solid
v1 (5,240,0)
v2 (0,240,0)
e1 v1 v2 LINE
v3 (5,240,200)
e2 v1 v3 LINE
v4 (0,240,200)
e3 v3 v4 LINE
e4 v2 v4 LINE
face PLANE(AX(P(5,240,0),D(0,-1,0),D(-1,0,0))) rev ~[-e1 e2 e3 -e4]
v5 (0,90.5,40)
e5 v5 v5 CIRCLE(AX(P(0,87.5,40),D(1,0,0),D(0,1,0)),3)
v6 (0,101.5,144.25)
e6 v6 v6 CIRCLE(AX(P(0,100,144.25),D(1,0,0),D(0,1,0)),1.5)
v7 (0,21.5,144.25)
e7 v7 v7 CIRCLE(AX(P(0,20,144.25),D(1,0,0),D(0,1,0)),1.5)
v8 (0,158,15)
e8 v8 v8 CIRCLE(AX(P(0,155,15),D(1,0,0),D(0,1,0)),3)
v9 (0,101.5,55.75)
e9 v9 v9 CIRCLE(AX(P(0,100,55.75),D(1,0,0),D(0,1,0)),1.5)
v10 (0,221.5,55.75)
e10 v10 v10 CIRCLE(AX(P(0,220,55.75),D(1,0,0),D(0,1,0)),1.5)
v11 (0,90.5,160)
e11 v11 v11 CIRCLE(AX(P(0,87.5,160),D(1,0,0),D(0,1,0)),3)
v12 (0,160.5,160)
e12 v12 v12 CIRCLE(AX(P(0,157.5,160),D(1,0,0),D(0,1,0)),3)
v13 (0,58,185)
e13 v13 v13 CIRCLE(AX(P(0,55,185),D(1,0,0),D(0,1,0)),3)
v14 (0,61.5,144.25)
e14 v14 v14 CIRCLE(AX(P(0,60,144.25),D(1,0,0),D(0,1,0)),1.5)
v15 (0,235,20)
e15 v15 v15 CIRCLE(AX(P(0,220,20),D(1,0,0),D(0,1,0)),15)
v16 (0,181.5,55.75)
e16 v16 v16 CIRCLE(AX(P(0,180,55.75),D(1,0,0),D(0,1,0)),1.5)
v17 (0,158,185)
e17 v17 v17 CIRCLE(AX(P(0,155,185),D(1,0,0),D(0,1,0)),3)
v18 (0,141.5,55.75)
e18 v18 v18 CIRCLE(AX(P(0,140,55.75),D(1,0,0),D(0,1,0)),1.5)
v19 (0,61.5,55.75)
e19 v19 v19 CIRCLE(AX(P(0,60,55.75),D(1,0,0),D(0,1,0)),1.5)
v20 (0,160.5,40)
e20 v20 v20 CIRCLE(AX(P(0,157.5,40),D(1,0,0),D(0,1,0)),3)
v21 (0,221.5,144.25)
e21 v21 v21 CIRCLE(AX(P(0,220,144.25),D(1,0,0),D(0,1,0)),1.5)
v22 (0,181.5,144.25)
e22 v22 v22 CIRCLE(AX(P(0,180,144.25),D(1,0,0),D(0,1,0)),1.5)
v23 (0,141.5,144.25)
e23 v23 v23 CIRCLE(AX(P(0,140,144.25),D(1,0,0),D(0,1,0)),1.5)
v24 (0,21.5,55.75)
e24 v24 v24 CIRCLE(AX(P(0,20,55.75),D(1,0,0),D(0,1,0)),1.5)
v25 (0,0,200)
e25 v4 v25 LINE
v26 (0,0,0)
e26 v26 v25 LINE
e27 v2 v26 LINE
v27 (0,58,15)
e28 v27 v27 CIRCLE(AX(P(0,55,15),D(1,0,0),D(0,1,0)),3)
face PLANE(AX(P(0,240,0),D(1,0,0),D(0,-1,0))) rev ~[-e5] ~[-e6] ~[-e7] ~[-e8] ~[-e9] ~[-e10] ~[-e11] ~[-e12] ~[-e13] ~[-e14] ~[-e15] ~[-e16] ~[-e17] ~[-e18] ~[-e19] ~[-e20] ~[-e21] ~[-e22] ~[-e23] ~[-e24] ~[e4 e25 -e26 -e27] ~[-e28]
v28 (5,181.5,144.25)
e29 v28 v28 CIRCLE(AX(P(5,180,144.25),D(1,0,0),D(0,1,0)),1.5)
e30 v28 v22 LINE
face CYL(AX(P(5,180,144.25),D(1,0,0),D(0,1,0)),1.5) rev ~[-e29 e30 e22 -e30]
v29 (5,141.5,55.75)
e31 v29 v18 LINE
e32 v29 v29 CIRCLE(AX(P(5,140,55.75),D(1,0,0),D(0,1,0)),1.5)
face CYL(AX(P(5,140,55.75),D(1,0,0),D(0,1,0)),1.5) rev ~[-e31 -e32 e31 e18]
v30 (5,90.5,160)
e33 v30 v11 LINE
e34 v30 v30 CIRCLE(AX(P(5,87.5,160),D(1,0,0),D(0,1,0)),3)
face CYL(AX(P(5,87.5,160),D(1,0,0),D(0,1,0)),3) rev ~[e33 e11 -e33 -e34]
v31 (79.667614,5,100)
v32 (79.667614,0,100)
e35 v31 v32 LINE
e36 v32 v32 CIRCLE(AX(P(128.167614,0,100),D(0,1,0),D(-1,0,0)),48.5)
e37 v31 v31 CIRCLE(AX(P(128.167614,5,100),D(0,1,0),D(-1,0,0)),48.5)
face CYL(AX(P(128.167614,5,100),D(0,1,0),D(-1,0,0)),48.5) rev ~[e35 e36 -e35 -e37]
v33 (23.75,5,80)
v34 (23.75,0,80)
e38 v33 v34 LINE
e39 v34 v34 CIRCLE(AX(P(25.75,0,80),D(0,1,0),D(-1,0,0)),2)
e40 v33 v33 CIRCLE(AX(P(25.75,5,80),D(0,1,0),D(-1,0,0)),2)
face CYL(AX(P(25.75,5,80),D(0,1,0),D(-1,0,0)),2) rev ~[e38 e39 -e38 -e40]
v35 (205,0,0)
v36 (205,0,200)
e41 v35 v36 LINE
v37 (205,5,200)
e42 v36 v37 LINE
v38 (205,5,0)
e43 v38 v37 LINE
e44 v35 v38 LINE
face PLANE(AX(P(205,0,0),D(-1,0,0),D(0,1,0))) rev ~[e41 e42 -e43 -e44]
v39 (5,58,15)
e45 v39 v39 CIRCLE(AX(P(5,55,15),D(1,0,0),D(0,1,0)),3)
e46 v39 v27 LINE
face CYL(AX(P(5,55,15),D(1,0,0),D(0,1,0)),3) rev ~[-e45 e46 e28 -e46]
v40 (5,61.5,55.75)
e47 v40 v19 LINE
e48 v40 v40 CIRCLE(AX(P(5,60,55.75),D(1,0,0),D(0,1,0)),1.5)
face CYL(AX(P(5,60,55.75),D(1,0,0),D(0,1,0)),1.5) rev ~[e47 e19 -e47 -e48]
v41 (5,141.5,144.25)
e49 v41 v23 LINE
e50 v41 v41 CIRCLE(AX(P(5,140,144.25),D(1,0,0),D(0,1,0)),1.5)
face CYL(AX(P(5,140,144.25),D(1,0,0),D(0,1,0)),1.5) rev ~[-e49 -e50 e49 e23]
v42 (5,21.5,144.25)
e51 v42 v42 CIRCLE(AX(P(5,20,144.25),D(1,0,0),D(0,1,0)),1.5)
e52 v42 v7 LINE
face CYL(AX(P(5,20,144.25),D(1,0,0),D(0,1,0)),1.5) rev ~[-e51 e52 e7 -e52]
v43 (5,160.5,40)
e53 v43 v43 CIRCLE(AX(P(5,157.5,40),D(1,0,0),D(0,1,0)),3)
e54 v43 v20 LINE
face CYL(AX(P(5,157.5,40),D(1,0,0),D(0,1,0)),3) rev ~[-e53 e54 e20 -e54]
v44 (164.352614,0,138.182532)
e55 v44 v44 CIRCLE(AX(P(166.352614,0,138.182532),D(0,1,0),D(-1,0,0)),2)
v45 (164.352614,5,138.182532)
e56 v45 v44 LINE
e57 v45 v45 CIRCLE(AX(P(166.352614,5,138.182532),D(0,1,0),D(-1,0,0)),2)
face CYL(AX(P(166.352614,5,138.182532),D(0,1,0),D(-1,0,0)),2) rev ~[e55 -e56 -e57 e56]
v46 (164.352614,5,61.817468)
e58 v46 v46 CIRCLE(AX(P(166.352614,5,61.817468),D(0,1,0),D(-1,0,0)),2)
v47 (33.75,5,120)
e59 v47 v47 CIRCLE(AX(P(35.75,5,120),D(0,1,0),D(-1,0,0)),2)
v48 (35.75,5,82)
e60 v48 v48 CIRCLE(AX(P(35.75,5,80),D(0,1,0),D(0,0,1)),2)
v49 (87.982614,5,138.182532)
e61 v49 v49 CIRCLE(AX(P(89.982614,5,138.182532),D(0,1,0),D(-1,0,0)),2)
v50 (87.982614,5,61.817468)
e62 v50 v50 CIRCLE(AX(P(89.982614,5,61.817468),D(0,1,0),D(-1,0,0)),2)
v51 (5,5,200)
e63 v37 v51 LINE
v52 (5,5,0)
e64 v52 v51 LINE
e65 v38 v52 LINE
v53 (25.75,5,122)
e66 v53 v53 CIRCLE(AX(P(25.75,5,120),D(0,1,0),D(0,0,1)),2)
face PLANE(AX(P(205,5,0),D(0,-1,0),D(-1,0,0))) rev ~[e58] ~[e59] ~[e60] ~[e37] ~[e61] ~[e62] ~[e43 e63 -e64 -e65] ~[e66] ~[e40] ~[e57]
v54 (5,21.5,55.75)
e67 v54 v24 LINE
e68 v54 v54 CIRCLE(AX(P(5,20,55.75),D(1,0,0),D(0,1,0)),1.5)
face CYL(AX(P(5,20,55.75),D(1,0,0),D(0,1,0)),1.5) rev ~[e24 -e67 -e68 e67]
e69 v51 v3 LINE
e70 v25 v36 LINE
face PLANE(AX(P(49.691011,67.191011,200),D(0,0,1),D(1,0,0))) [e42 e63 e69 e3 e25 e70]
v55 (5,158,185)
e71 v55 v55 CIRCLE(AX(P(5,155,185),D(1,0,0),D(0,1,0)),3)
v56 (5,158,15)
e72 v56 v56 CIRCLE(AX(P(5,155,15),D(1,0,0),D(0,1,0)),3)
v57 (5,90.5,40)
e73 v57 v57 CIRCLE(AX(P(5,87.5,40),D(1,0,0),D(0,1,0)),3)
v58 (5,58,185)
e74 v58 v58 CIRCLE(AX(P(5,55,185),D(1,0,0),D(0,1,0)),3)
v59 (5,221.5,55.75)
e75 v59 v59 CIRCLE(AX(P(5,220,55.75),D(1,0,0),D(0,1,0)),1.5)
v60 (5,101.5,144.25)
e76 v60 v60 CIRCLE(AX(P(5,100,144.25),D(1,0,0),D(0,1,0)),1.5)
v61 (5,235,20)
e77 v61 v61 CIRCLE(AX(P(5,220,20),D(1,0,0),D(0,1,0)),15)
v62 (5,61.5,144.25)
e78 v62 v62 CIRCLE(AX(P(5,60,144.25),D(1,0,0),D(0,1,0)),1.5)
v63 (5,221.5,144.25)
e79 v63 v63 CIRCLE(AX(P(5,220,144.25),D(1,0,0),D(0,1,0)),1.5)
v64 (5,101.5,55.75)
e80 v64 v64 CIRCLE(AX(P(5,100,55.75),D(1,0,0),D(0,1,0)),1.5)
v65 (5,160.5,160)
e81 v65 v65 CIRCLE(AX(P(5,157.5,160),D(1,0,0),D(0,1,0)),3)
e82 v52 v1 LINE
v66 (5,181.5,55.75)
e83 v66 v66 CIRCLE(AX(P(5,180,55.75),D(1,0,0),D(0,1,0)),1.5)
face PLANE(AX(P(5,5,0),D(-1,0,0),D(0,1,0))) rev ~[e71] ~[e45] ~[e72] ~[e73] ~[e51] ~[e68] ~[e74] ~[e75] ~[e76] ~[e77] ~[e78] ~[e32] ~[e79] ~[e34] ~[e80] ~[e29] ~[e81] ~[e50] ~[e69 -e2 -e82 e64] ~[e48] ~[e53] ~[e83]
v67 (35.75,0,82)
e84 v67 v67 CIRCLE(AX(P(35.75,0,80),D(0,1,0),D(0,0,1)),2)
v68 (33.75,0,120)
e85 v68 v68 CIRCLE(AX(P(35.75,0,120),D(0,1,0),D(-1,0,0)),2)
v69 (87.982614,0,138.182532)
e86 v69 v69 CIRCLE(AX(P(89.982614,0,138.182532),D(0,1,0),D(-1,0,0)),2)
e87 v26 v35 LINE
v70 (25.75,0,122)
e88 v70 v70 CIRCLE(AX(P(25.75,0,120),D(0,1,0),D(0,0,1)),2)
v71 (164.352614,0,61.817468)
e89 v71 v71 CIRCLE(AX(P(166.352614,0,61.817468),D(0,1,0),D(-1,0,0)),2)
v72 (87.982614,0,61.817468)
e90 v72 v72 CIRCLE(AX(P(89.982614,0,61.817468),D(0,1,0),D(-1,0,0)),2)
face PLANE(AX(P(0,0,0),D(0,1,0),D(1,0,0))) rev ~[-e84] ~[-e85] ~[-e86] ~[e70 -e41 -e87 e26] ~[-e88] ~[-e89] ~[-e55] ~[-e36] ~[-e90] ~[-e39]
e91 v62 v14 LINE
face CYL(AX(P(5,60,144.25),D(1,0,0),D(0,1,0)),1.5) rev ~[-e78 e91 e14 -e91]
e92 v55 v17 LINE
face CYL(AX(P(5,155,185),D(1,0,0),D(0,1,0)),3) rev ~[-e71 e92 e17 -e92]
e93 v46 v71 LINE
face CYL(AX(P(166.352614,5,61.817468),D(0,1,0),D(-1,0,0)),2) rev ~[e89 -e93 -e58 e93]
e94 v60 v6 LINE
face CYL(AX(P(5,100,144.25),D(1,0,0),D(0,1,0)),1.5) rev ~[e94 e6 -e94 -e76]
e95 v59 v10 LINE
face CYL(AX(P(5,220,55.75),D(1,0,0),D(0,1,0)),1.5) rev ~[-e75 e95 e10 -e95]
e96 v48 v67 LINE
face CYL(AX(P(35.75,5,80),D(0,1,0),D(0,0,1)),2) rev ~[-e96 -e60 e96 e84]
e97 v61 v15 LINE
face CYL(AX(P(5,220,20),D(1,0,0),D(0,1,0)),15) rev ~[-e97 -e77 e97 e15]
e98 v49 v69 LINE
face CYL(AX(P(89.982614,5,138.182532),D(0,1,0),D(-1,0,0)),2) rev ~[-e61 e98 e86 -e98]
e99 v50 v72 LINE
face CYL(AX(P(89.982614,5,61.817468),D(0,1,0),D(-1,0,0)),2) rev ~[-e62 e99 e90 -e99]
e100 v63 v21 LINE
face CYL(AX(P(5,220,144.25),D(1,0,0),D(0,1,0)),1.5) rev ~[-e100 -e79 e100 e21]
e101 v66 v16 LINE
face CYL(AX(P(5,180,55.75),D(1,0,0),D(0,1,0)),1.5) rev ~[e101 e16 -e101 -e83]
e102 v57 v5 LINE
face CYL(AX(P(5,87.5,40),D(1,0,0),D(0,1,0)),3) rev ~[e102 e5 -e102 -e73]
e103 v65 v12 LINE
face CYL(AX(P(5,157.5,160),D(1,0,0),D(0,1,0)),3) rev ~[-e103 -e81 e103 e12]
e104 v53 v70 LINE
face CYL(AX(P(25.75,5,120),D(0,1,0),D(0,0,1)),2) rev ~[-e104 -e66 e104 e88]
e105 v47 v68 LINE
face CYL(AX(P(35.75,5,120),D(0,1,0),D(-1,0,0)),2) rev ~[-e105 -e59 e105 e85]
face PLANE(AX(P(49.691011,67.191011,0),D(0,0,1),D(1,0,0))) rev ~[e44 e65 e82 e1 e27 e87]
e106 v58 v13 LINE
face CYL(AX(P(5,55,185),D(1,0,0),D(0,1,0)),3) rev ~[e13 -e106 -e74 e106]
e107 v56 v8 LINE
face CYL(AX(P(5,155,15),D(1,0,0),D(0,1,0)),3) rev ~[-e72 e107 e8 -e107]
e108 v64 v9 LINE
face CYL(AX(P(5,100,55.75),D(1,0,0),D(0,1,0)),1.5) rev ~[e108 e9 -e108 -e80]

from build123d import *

# Parameters (mm, degrees)
BOSS_EXTRUDE1_DEPTH = 200
CUT_EXTRUDE1_REACH  = 372.473
SKETCH2_R           = 48.5
SKETCH2_R_2         = 2
CUT_EXTRUDE2_REACH  = 372.473
SKETCH3_R           = 2
SKETCH4_R           = 15
CUT_EXTRUDE3_DEPTH  = 10
CUT_EXTRUDE4_REACH  = 372.945
SKETCH5_R           = 3
CUT_EXTRUDE5_REACH  = 372.945
SKETCH6_R           = 1.5
CUT_EXTRUDE6_REACH  = 372.945
SKETCH8_R           = 3


with BuildPart() as part:
    # Sketch1 → Boss-Extrude1 (new body)
    with BuildSketch(Plane.XY):
        Polygon((0, 240), (0, 0), (205, 0), (205, 5), (5, 5), (5, 240), align=None)
    extrude(amount=BOSS_EXTRUDE1_DEPTH)

    # Sketch2 → Cut-Extrude1 (cut, up to next)
    with BuildSketch(Plane(origin=(0, 5, 0), x_dir=(1, 0, 0), z_dir=(0, 1, 0)), mode=Mode.PRIVATE) as cut_extrude1_sk1:
        with Locations(Location((128.16761425, -100, 0), (0, 0, 180))):
            Circle(SKETCH2_R)
    cut_extrude1_tool1 = extrude(cut_extrude1_sk1.sketch, amount=-CUT_EXTRUDE1_REACH, mode=Mode.PRIVATE) & part.part
    # Sketch2 → Cut-Extrude1 (cut, up to next)
    with BuildSketch(Plane(origin=(0, 5, 0), x_dir=(1, 0, 0), z_dir=(0, 1, 0)), mode=Mode.PRIVATE) as cut_extrude1_sk2:
        with Locations(Location((89.98261425, -61.817467672, 0), (0, 0, 180))):
            Circle(SKETCH2_R_2)
    cut_extrude1_tool2 = extrude(cut_extrude1_sk2.sketch, amount=-CUT_EXTRUDE1_REACH, mode=Mode.PRIVATE) & part.part
    # Sketch2 → Cut-Extrude1 (cut, up to next)
    with BuildSketch(Plane(origin=(0, 5, 0), x_dir=(1, 0, 0), z_dir=(0, 1, 0)), mode=Mode.PRIVATE) as cut_extrude1_sk3:
        with Locations(Location((166.35261425, -61.817467672, 0), (0, 0, 180))):
            Circle(SKETCH2_R_2)
    cut_extrude1_tool3 = extrude(cut_extrude1_sk3.sketch, amount=-CUT_EXTRUDE1_REACH, mode=Mode.PRIVATE) & part.part
    # Sketch2 → Cut-Extrude1 (cut, up to next)
    with BuildSketch(Plane(origin=(0, 5, 0), x_dir=(1, 0, 0), z_dir=(0, 1, 0)), mode=Mode.PRIVATE) as cut_extrude1_sk4:
        with Locations(Location((89.98261425, -138.182532328, 0), (0, 0, 180))):
            Circle(SKETCH2_R_2)
    cut_extrude1_tool4 = extrude(cut_extrude1_sk4.sketch, amount=-CUT_EXTRUDE1_REACH, mode=Mode.PRIVATE) & part.part
    # Sketch2 → Cut-Extrude1 (cut, up to next)
    with BuildSketch(Plane(origin=(0, 5, 0), x_dir=(1, 0, 0), z_dir=(0, 1, 0)), mode=Mode.PRIVATE) as cut_extrude1_sk5:
        with Locations(Location((166.35261425, -138.182532328, 0), (0, 0, 180))):
            Circle(SKETCH2_R_2)
    cut_extrude1_tool5 = extrude(cut_extrude1_sk5.sketch, amount=-CUT_EXTRUDE1_REACH, mode=Mode.PRIVATE) & part.part
    add(cut_extrude1_tool1.solids().sort_by_distance((128.167614, 5, 100))[0], mode=Mode.SUBTRACT)
    add(cut_extrude1_tool2.solids().sort_by_distance((89.982614, 5, 61.817468))[0], mode=Mode.SUBTRACT)
    add(cut_extrude1_tool3.solids().sort_by_distance((166.352614, 5, 61.817468))[0], mode=Mode.SUBTRACT)
    add(cut_extrude1_tool4.solids().sort_by_distance((89.982614, 5, 138.182532))[0], mode=Mode.SUBTRACT)
    add(cut_extrude1_tool5.solids().sort_by_distance((166.352614, 5, 138.182532))[0], mode=Mode.SUBTRACT)

    # Sketch3 → Cut-Extrude2 (cut, up to next)
    with BuildSketch(Plane(origin=(0, 5, 0), x_dir=(1, 0, 0), z_dir=(0, 1, 0)), mode=Mode.PRIVATE) as cut_extrude2_sk1:
        with Locations(Location((25.75, -80, 0), (0, 0, 180))):
            Circle(SKETCH3_R)
    cut_extrude2_tool1 = extrude(cut_extrude2_sk1.sketch, amount=-CUT_EXTRUDE2_REACH, mode=Mode.PRIVATE) & part.part
    # Sketch3 → Cut-Extrude2 (cut, up to next)
    with BuildSketch(Plane(origin=(0, 5, 0), x_dir=(1, 0, 0), z_dir=(0, 1, 0)), mode=Mode.PRIVATE) as cut_extrude2_sk2:
        with Locations(Location((25.75, -120, 0), (0, 0, 270))):
            Circle(SKETCH3_R)
    cut_extrude2_tool2 = extrude(cut_extrude2_sk2.sketch, amount=-CUT_EXTRUDE2_REACH, mode=Mode.PRIVATE) & part.part
    # Sketch3 → Cut-Extrude2 (cut, up to next)
    with BuildSketch(Plane(origin=(0, 5, 0), x_dir=(1, 0, 0), z_dir=(0, 1, 0)), mode=Mode.PRIVATE) as cut_extrude2_sk3:
        with Locations(Location((35.75, -120, 0), (0, 0, 180))):
            Circle(SKETCH3_R)
    cut_extrude2_tool3 = extrude(cut_extrude2_sk3.sketch, amount=-CUT_EXTRUDE2_REACH, mode=Mode.PRIVATE) & part.part
    # Sketch3 → Cut-Extrude2 (cut, up to next)
    with BuildSketch(Plane(origin=(0, 5, 0), x_dir=(1, 0, 0), z_dir=(0, 1, 0)), mode=Mode.PRIVATE) as cut_extrude2_sk4:
        with Locations(Location((35.75, -80, 0), (0, 0, 270))):
            Circle(SKETCH3_R)
    cut_extrude2_tool4 = extrude(cut_extrude2_sk4.sketch, amount=-CUT_EXTRUDE2_REACH, mode=Mode.PRIVATE) & part.part
    add(cut_extrude2_tool1.solids().sort_by_distance((25.75, 5, 80))[0], mode=Mode.SUBTRACT)
    add(cut_extrude2_tool2.solids().sort_by_distance((25.75, 5, 120))[0], mode=Mode.SUBTRACT)
    add(cut_extrude2_tool3.solids().sort_by_distance((35.75, 5, 120))[0], mode=Mode.SUBTRACT)
    add(cut_extrude2_tool4.solids().sort_by_distance((35.75, 5, 80))[0], mode=Mode.SUBTRACT)

    # Sketch4 → Cut-Extrude3 (cut)
    with BuildSketch(Plane(origin=(5, 0, 0), x_dir=(0, 0, -1), z_dir=(1, 0, 0))):
        with Locations(Location((-20, 220, 0), (0, 0, 90))):
            Circle(SKETCH4_R)
    extrude(amount=-CUT_EXTRUDE3_DEPTH, mode=Mode.SUBTRACT)

    # Sketch5 → Cut-Extrude4 (cut, up to next)
    with BuildSketch(Plane(origin=(5, 0, 0), x_dir=(0, 0, -1), z_dir=(1, 0, 0)), mode=Mode.PRIVATE) as cut_extrude4_sk1:
        with Locations(Location((-185, 55, 0), (0, 0, 90))):
            Circle(SKETCH5_R)
    cut_extrude4_tool1 = extrude(cut_extrude4_sk1.sketch, amount=-CUT_EXTRUDE4_REACH, mode=Mode.PRIVATE) & part.part
    # Sketch5 → Cut-Extrude4 (cut, up to next)
    with BuildSketch(Plane(origin=(5, 0, 0), x_dir=(0, 0, -1), z_dir=(1, 0, 0)), mode=Mode.PRIVATE) as cut_extrude4_sk2:
        with Locations(Location((-185, 155, 0), (0, 0, 90))):
            Circle(SKETCH5_R)
    cut_extrude4_tool2 = extrude(cut_extrude4_sk2.sketch, amount=-CUT_EXTRUDE4_REACH, mode=Mode.PRIVATE) & part.part
    # Sketch5 → Cut-Extrude4 (cut, up to next)
    with BuildSketch(Plane(origin=(5, 0, 0), x_dir=(0, 0, -1), z_dir=(1, 0, 0)), mode=Mode.PRIVATE) as cut_extrude4_sk3:
        with Locations(Location((-15, 55, 0), (0, 0, 90))):
            Circle(SKETCH5_R)
    cut_extrude4_tool3 = extrude(cut_extrude4_sk3.sketch, amount=-CUT_EXTRUDE4_REACH, mode=Mode.PRIVATE) & part.part
    # Sketch5 → Cut-Extrude4 (cut, up to next)
    with BuildSketch(Plane(origin=(5, 0, 0), x_dir=(0, 0, -1), z_dir=(1, 0, 0)), mode=Mode.PRIVATE) as cut_extrude4_sk4:
        with Locations(Location((-15, 155, 0), (0, 0, 90))):
            Circle(SKETCH5_R)
    cut_extrude4_tool4 = extrude(cut_extrude4_sk4.sketch, amount=-CUT_EXTRUDE4_REACH, mode=Mode.PRIVATE) & part.part
    add(cut_extrude4_tool1.solids().sort_by_distance((5, 55, 185))[0], mode=Mode.SUBTRACT)
    add(cut_extrude4_tool2.solids().sort_by_distance((5, 155, 185))[0], mode=Mode.SUBTRACT)
    add(cut_extrude4_tool3.solids().sort_by_distance((5, 55, 15))[0], mode=Mode.SUBTRACT)
    add(cut_extrude4_tool4.solids().sort_by_distance((5, 155, 15))[0], mode=Mode.SUBTRACT)

    # Sketch6 → Cut-Extrude5 (cut, up to next)
    with BuildSketch(Plane(origin=(5, 0, 0), x_dir=(0, 0, -1), z_dir=(1, 0, 0)), mode=Mode.PRIVATE) as cut_extrude5_sk1:
        with Locations(Location((-144.25, 220, 0), (0, 0, 90))):
            Circle(SKETCH6_R)
    cut_extrude5_tool1 = extrude(cut_extrude5_sk1.sketch, amount=-CUT_EXTRUDE5_REACH, mode=Mode.PRIVATE) & part.part
    # Sketch6 → Cut-Extrude5 (cut, up to next)
    with BuildSketch(Plane(origin=(5, 0, 0), x_dir=(0, 0, -1), z_dir=(1, 0, 0)), mode=Mode.PRIVATE) as cut_extrude5_sk2:
        with Locations(Location((-55.75, 220, 0), (0, 0, 90))):
            Circle(SKETCH6_R)
    cut_extrude5_tool2 = extrude(cut_extrude5_sk2.sketch, amount=-CUT_EXTRUDE5_REACH, mode=Mode.PRIVATE) & part.part
    # Sketch6 → Cut-Extrude5 (cut, up to next)
    with BuildSketch(Plane(origin=(5, 0, 0), x_dir=(0, 0, -1), z_dir=(1, 0, 0)), mode=Mode.PRIVATE) as cut_extrude5_sk3:
        with Locations(Location((-144.25, 180, 0), (0, 0, 90))):
            Circle(SKETCH6_R)
    cut_extrude5_tool3 = extrude(cut_extrude5_sk3.sketch, amount=-CUT_EXTRUDE5_REACH, mode=Mode.PRIVATE) & part.part
    # Sketch6 → Cut-Extrude5 (cut, up to next)
    with BuildSketch(Plane(origin=(5, 0, 0), x_dir=(0, 0, -1), z_dir=(1, 0, 0)), mode=Mode.PRIVATE) as cut_extrude5_sk4:
        with Locations(Location((-55.75, 180, 0), (0, 0, 90))):
            Circle(SKETCH6_R)
    cut_extrude5_tool4 = extrude(cut_extrude5_sk4.sketch, amount=-CUT_EXTRUDE5_REACH, mode=Mode.PRIVATE) & part.part
    # Sketch6 → Cut-Extrude5 (cut, up to next)
    with BuildSketch(Plane(origin=(5, 0, 0), x_dir=(0, 0, -1), z_dir=(1, 0, 0)), mode=Mode.PRIVATE) as cut_extrude5_sk5:
        with Locations(Location((-144.25, 140, 0), (0, 0, 90))):
            Circle(SKETCH6_R)
    cut_extrude5_tool5 = extrude(cut_extrude5_sk5.sketch, amount=-CUT_EXTRUDE5_REACH, mode=Mode.PRIVATE) & part.part
    # Sketch6 → Cut-Extrude5 (cut, up to next)
    with BuildSketch(Plane(origin=(5, 0, 0), x_dir=(0, 0, -1), z_dir=(1, 0, 0)), mode=Mode.PRIVATE) as cut_extrude5_sk6:
        with Locations(Location((-55.75, 140, 0), (0, 0, 90))):
            Circle(SKETCH6_R)
    cut_extrude5_tool6 = extrude(cut_extrude5_sk6.sketch, amount=-CUT_EXTRUDE5_REACH, mode=Mode.PRIVATE) & part.part
    # Sketch6 → Cut-Extrude5 (cut, up to next)
    with BuildSketch(Plane(origin=(5, 0, 0), x_dir=(0, 0, -1), z_dir=(1, 0, 0)), mode=Mode.PRIVATE) as cut_extrude5_sk7:
        with Locations(Location((-144.25, 100, 0), (0, 0, 90))):
            Circle(SKETCH6_R)
    cut_extrude5_tool7 = extrude(cut_extrude5_sk7.sketch, amount=-CUT_EXTRUDE5_REACH, mode=Mode.PRIVATE) & part.part
    # Sketch6 → Cut-Extrude5 (cut, up to next)
    with BuildSketch(Plane(origin=(5, 0, 0), x_dir=(0, 0, -1), z_dir=(1, 0, 0)), mode=Mode.PRIVATE) as cut_extrude5_sk8:
        with Locations(Location((-55.75, 100, 0), (0, 0, 90))):
            Circle(SKETCH6_R)
    cut_extrude5_tool8 = extrude(cut_extrude5_sk8.sketch, amount=-CUT_EXTRUDE5_REACH, mode=Mode.PRIVATE) & part.part
    # Sketch6 → Cut-Extrude5 (cut, up to next)
    with BuildSketch(Plane(origin=(5, 0, 0), x_dir=(0, 0, -1), z_dir=(1, 0, 0)), mode=Mode.PRIVATE) as cut_extrude5_sk9:
        with Locations(Location((-144.25, 60, 0), (0, 0, 90))):
            Circle(SKETCH6_R)
    cut_extrude5_tool9 = extrude(cut_extrude5_sk9.sketch, amount=-CUT_EXTRUDE5_REACH, mode=Mode.PRIVATE) & part.part
    # Sketch6 → Cut-Extrude5 (cut, up to next)
    with BuildSketch(Plane(origin=(5, 0, 0), x_dir=(0, 0, -1), z_dir=(1, 0, 0)), mode=Mode.PRIVATE) as cut_extrude5_sk10:
        with Locations(Location((-55.75, 60, 0), (0, 0, 90))):
            Circle(SKETCH6_R)
    cut_extrude5_tool10 = extrude(cut_extrude5_sk10.sketch, amount=-CUT_EXTRUDE5_REACH, mode=Mode.PRIVATE) & part.part
    # Sketch6 → Cut-Extrude5 (cut, up to next)
    with BuildSketch(Plane(origin=(5, 0, 0), x_dir=(0, 0, -1), z_dir=(1, 0, 0)), mode=Mode.PRIVATE) as cut_extrude5_sk11:
        with Locations(Location((-144.25, 20, 0), (0, 0, 90))):
            Circle(SKETCH6_R)
    cut_extrude5_tool11 = extrude(cut_extrude5_sk11.sketch, amount=-CUT_EXTRUDE5_REACH, mode=Mode.PRIVATE) & part.part
    # Sketch6 → Cut-Extrude5 (cut, up to next)
    with BuildSketch(Plane(origin=(5, 0, 0), x_dir=(0, 0, -1), z_dir=(1, 0, 0)), mode=Mode.PRIVATE) as cut_extrude5_sk12:
        with Locations(Location((-55.75, 20, 0), (0, 0, 90))):
            Circle(SKETCH6_R)
    cut_extrude5_tool12 = extrude(cut_extrude5_sk12.sketch, amount=-CUT_EXTRUDE5_REACH, mode=Mode.PRIVATE) & part.part
    add(cut_extrude5_tool1.solids().sort_by_distance((5, 220, 144.25))[0], mode=Mode.SUBTRACT)
    add(cut_extrude5_tool2.solids().sort_by_distance((5, 220, 55.75))[0], mode=Mode.SUBTRACT)
    add(cut_extrude5_tool3.solids().sort_by_distance((5, 180, 144.25))[0], mode=Mode.SUBTRACT)
    add(cut_extrude5_tool4.solids().sort_by_distance((5, 180, 55.75))[0], mode=Mode.SUBTRACT)
    add(cut_extrude5_tool5.solids().sort_by_distance((5, 140, 144.25))[0], mode=Mode.SUBTRACT)
    add(cut_extrude5_tool6.solids().sort_by_distance((5, 140, 55.75))[0], mode=Mode.SUBTRACT)
    add(cut_extrude5_tool7.solids().sort_by_distance((5, 100, 144.25))[0], mode=Mode.SUBTRACT)
    add(cut_extrude5_tool8.solids().sort_by_distance((5, 100, 55.75))[0], mode=Mode.SUBTRACT)
    add(cut_extrude5_tool9.solids().sort_by_distance((5, 60, 144.25))[0], mode=Mode.SUBTRACT)
    add(cut_extrude5_tool10.solids().sort_by_distance((5, 60, 55.75))[0], mode=Mode.SUBTRACT)
    add(cut_extrude5_tool11.solids().sort_by_distance((5, 20, 144.25))[0], mode=Mode.SUBTRACT)
    add(cut_extrude5_tool12.solids().sort_by_distance((5, 20, 55.75))[0], mode=Mode.SUBTRACT)

    # Sketch8 → Cut-Extrude6 (cut, up to next)
    with BuildSketch(Plane(origin=(5, 0, 0), x_dir=(0, 0, -1), z_dir=(1, 0, 0)), mode=Mode.PRIVATE) as cut_extrude6_sk1:
        with Locations(Location((-160, 157.5, 0), (0, 0, 90))):
            Circle(SKETCH8_R)
    cut_extrude6_tool1 = extrude(cut_extrude6_sk1.sketch, amount=-CUT_EXTRUDE6_REACH, mode=Mode.PRIVATE) & part.part
    # Sketch8 → Cut-Extrude6 (cut, up to next)
    with BuildSketch(Plane(origin=(5, 0, 0), x_dir=(0, 0, -1), z_dir=(1, 0, 0)), mode=Mode.PRIVATE) as cut_extrude6_sk2:
        with Locations(Location((-40, 157.5, 0), (0, 0, 90))):
            Circle(SKETCH8_R)
    cut_extrude6_tool2 = extrude(cut_extrude6_sk2.sketch, amount=-CUT_EXTRUDE6_REACH, mode=Mode.PRIVATE) & part.part
    # Sketch8 → Cut-Extrude6 (cut, up to next)
    with BuildSketch(Plane(origin=(5, 0, 0), x_dir=(0, 0, -1), z_dir=(1, 0, 0)), mode=Mode.PRIVATE) as cut_extrude6_sk3:
        with Locations(Location((-40, 87.5, 0), (0, 0, 90))):
            Circle(SKETCH8_R)
    cut_extrude6_tool3 = extrude(cut_extrude6_sk3.sketch, amount=-CUT_EXTRUDE6_REACH, mode=Mode.PRIVATE) & part.part
    # Sketch8 → Cut-Extrude6 (cut, up to next)
    with BuildSketch(Plane(origin=(5, 0, 0), x_dir=(0, 0, -1), z_dir=(1, 0, 0)), mode=Mode.PRIVATE) as cut_extrude6_sk4:
        with Locations(Location((-160, 87.5, 0), (0, 0, 90))):
            Circle(SKETCH8_R)
    cut_extrude6_tool4 = extrude(cut_extrude6_sk4.sketch, amount=-CUT_EXTRUDE6_REACH, mode=Mode.PRIVATE) & part.part
    add(cut_extrude6_tool1.solids().sort_by_distance((5, 157.5, 160))[0], mode=Mode.SUBTRACT)
    add(cut_extrude6_tool2.solids().sort_by_distance((5, 157.5, 40))[0], mode=Mode.SUBTRACT)
    add(cut_extrude6_tool3.solids().sort_by_distance((5, 87.5, 40))[0], mode=Mode.SUBTRACT)
    add(cut_extrude6_tool4.solids().sort_by_distance((5, 87.5, 160))[0], mode=Mode.SUBTRACT)


solid = part.part
